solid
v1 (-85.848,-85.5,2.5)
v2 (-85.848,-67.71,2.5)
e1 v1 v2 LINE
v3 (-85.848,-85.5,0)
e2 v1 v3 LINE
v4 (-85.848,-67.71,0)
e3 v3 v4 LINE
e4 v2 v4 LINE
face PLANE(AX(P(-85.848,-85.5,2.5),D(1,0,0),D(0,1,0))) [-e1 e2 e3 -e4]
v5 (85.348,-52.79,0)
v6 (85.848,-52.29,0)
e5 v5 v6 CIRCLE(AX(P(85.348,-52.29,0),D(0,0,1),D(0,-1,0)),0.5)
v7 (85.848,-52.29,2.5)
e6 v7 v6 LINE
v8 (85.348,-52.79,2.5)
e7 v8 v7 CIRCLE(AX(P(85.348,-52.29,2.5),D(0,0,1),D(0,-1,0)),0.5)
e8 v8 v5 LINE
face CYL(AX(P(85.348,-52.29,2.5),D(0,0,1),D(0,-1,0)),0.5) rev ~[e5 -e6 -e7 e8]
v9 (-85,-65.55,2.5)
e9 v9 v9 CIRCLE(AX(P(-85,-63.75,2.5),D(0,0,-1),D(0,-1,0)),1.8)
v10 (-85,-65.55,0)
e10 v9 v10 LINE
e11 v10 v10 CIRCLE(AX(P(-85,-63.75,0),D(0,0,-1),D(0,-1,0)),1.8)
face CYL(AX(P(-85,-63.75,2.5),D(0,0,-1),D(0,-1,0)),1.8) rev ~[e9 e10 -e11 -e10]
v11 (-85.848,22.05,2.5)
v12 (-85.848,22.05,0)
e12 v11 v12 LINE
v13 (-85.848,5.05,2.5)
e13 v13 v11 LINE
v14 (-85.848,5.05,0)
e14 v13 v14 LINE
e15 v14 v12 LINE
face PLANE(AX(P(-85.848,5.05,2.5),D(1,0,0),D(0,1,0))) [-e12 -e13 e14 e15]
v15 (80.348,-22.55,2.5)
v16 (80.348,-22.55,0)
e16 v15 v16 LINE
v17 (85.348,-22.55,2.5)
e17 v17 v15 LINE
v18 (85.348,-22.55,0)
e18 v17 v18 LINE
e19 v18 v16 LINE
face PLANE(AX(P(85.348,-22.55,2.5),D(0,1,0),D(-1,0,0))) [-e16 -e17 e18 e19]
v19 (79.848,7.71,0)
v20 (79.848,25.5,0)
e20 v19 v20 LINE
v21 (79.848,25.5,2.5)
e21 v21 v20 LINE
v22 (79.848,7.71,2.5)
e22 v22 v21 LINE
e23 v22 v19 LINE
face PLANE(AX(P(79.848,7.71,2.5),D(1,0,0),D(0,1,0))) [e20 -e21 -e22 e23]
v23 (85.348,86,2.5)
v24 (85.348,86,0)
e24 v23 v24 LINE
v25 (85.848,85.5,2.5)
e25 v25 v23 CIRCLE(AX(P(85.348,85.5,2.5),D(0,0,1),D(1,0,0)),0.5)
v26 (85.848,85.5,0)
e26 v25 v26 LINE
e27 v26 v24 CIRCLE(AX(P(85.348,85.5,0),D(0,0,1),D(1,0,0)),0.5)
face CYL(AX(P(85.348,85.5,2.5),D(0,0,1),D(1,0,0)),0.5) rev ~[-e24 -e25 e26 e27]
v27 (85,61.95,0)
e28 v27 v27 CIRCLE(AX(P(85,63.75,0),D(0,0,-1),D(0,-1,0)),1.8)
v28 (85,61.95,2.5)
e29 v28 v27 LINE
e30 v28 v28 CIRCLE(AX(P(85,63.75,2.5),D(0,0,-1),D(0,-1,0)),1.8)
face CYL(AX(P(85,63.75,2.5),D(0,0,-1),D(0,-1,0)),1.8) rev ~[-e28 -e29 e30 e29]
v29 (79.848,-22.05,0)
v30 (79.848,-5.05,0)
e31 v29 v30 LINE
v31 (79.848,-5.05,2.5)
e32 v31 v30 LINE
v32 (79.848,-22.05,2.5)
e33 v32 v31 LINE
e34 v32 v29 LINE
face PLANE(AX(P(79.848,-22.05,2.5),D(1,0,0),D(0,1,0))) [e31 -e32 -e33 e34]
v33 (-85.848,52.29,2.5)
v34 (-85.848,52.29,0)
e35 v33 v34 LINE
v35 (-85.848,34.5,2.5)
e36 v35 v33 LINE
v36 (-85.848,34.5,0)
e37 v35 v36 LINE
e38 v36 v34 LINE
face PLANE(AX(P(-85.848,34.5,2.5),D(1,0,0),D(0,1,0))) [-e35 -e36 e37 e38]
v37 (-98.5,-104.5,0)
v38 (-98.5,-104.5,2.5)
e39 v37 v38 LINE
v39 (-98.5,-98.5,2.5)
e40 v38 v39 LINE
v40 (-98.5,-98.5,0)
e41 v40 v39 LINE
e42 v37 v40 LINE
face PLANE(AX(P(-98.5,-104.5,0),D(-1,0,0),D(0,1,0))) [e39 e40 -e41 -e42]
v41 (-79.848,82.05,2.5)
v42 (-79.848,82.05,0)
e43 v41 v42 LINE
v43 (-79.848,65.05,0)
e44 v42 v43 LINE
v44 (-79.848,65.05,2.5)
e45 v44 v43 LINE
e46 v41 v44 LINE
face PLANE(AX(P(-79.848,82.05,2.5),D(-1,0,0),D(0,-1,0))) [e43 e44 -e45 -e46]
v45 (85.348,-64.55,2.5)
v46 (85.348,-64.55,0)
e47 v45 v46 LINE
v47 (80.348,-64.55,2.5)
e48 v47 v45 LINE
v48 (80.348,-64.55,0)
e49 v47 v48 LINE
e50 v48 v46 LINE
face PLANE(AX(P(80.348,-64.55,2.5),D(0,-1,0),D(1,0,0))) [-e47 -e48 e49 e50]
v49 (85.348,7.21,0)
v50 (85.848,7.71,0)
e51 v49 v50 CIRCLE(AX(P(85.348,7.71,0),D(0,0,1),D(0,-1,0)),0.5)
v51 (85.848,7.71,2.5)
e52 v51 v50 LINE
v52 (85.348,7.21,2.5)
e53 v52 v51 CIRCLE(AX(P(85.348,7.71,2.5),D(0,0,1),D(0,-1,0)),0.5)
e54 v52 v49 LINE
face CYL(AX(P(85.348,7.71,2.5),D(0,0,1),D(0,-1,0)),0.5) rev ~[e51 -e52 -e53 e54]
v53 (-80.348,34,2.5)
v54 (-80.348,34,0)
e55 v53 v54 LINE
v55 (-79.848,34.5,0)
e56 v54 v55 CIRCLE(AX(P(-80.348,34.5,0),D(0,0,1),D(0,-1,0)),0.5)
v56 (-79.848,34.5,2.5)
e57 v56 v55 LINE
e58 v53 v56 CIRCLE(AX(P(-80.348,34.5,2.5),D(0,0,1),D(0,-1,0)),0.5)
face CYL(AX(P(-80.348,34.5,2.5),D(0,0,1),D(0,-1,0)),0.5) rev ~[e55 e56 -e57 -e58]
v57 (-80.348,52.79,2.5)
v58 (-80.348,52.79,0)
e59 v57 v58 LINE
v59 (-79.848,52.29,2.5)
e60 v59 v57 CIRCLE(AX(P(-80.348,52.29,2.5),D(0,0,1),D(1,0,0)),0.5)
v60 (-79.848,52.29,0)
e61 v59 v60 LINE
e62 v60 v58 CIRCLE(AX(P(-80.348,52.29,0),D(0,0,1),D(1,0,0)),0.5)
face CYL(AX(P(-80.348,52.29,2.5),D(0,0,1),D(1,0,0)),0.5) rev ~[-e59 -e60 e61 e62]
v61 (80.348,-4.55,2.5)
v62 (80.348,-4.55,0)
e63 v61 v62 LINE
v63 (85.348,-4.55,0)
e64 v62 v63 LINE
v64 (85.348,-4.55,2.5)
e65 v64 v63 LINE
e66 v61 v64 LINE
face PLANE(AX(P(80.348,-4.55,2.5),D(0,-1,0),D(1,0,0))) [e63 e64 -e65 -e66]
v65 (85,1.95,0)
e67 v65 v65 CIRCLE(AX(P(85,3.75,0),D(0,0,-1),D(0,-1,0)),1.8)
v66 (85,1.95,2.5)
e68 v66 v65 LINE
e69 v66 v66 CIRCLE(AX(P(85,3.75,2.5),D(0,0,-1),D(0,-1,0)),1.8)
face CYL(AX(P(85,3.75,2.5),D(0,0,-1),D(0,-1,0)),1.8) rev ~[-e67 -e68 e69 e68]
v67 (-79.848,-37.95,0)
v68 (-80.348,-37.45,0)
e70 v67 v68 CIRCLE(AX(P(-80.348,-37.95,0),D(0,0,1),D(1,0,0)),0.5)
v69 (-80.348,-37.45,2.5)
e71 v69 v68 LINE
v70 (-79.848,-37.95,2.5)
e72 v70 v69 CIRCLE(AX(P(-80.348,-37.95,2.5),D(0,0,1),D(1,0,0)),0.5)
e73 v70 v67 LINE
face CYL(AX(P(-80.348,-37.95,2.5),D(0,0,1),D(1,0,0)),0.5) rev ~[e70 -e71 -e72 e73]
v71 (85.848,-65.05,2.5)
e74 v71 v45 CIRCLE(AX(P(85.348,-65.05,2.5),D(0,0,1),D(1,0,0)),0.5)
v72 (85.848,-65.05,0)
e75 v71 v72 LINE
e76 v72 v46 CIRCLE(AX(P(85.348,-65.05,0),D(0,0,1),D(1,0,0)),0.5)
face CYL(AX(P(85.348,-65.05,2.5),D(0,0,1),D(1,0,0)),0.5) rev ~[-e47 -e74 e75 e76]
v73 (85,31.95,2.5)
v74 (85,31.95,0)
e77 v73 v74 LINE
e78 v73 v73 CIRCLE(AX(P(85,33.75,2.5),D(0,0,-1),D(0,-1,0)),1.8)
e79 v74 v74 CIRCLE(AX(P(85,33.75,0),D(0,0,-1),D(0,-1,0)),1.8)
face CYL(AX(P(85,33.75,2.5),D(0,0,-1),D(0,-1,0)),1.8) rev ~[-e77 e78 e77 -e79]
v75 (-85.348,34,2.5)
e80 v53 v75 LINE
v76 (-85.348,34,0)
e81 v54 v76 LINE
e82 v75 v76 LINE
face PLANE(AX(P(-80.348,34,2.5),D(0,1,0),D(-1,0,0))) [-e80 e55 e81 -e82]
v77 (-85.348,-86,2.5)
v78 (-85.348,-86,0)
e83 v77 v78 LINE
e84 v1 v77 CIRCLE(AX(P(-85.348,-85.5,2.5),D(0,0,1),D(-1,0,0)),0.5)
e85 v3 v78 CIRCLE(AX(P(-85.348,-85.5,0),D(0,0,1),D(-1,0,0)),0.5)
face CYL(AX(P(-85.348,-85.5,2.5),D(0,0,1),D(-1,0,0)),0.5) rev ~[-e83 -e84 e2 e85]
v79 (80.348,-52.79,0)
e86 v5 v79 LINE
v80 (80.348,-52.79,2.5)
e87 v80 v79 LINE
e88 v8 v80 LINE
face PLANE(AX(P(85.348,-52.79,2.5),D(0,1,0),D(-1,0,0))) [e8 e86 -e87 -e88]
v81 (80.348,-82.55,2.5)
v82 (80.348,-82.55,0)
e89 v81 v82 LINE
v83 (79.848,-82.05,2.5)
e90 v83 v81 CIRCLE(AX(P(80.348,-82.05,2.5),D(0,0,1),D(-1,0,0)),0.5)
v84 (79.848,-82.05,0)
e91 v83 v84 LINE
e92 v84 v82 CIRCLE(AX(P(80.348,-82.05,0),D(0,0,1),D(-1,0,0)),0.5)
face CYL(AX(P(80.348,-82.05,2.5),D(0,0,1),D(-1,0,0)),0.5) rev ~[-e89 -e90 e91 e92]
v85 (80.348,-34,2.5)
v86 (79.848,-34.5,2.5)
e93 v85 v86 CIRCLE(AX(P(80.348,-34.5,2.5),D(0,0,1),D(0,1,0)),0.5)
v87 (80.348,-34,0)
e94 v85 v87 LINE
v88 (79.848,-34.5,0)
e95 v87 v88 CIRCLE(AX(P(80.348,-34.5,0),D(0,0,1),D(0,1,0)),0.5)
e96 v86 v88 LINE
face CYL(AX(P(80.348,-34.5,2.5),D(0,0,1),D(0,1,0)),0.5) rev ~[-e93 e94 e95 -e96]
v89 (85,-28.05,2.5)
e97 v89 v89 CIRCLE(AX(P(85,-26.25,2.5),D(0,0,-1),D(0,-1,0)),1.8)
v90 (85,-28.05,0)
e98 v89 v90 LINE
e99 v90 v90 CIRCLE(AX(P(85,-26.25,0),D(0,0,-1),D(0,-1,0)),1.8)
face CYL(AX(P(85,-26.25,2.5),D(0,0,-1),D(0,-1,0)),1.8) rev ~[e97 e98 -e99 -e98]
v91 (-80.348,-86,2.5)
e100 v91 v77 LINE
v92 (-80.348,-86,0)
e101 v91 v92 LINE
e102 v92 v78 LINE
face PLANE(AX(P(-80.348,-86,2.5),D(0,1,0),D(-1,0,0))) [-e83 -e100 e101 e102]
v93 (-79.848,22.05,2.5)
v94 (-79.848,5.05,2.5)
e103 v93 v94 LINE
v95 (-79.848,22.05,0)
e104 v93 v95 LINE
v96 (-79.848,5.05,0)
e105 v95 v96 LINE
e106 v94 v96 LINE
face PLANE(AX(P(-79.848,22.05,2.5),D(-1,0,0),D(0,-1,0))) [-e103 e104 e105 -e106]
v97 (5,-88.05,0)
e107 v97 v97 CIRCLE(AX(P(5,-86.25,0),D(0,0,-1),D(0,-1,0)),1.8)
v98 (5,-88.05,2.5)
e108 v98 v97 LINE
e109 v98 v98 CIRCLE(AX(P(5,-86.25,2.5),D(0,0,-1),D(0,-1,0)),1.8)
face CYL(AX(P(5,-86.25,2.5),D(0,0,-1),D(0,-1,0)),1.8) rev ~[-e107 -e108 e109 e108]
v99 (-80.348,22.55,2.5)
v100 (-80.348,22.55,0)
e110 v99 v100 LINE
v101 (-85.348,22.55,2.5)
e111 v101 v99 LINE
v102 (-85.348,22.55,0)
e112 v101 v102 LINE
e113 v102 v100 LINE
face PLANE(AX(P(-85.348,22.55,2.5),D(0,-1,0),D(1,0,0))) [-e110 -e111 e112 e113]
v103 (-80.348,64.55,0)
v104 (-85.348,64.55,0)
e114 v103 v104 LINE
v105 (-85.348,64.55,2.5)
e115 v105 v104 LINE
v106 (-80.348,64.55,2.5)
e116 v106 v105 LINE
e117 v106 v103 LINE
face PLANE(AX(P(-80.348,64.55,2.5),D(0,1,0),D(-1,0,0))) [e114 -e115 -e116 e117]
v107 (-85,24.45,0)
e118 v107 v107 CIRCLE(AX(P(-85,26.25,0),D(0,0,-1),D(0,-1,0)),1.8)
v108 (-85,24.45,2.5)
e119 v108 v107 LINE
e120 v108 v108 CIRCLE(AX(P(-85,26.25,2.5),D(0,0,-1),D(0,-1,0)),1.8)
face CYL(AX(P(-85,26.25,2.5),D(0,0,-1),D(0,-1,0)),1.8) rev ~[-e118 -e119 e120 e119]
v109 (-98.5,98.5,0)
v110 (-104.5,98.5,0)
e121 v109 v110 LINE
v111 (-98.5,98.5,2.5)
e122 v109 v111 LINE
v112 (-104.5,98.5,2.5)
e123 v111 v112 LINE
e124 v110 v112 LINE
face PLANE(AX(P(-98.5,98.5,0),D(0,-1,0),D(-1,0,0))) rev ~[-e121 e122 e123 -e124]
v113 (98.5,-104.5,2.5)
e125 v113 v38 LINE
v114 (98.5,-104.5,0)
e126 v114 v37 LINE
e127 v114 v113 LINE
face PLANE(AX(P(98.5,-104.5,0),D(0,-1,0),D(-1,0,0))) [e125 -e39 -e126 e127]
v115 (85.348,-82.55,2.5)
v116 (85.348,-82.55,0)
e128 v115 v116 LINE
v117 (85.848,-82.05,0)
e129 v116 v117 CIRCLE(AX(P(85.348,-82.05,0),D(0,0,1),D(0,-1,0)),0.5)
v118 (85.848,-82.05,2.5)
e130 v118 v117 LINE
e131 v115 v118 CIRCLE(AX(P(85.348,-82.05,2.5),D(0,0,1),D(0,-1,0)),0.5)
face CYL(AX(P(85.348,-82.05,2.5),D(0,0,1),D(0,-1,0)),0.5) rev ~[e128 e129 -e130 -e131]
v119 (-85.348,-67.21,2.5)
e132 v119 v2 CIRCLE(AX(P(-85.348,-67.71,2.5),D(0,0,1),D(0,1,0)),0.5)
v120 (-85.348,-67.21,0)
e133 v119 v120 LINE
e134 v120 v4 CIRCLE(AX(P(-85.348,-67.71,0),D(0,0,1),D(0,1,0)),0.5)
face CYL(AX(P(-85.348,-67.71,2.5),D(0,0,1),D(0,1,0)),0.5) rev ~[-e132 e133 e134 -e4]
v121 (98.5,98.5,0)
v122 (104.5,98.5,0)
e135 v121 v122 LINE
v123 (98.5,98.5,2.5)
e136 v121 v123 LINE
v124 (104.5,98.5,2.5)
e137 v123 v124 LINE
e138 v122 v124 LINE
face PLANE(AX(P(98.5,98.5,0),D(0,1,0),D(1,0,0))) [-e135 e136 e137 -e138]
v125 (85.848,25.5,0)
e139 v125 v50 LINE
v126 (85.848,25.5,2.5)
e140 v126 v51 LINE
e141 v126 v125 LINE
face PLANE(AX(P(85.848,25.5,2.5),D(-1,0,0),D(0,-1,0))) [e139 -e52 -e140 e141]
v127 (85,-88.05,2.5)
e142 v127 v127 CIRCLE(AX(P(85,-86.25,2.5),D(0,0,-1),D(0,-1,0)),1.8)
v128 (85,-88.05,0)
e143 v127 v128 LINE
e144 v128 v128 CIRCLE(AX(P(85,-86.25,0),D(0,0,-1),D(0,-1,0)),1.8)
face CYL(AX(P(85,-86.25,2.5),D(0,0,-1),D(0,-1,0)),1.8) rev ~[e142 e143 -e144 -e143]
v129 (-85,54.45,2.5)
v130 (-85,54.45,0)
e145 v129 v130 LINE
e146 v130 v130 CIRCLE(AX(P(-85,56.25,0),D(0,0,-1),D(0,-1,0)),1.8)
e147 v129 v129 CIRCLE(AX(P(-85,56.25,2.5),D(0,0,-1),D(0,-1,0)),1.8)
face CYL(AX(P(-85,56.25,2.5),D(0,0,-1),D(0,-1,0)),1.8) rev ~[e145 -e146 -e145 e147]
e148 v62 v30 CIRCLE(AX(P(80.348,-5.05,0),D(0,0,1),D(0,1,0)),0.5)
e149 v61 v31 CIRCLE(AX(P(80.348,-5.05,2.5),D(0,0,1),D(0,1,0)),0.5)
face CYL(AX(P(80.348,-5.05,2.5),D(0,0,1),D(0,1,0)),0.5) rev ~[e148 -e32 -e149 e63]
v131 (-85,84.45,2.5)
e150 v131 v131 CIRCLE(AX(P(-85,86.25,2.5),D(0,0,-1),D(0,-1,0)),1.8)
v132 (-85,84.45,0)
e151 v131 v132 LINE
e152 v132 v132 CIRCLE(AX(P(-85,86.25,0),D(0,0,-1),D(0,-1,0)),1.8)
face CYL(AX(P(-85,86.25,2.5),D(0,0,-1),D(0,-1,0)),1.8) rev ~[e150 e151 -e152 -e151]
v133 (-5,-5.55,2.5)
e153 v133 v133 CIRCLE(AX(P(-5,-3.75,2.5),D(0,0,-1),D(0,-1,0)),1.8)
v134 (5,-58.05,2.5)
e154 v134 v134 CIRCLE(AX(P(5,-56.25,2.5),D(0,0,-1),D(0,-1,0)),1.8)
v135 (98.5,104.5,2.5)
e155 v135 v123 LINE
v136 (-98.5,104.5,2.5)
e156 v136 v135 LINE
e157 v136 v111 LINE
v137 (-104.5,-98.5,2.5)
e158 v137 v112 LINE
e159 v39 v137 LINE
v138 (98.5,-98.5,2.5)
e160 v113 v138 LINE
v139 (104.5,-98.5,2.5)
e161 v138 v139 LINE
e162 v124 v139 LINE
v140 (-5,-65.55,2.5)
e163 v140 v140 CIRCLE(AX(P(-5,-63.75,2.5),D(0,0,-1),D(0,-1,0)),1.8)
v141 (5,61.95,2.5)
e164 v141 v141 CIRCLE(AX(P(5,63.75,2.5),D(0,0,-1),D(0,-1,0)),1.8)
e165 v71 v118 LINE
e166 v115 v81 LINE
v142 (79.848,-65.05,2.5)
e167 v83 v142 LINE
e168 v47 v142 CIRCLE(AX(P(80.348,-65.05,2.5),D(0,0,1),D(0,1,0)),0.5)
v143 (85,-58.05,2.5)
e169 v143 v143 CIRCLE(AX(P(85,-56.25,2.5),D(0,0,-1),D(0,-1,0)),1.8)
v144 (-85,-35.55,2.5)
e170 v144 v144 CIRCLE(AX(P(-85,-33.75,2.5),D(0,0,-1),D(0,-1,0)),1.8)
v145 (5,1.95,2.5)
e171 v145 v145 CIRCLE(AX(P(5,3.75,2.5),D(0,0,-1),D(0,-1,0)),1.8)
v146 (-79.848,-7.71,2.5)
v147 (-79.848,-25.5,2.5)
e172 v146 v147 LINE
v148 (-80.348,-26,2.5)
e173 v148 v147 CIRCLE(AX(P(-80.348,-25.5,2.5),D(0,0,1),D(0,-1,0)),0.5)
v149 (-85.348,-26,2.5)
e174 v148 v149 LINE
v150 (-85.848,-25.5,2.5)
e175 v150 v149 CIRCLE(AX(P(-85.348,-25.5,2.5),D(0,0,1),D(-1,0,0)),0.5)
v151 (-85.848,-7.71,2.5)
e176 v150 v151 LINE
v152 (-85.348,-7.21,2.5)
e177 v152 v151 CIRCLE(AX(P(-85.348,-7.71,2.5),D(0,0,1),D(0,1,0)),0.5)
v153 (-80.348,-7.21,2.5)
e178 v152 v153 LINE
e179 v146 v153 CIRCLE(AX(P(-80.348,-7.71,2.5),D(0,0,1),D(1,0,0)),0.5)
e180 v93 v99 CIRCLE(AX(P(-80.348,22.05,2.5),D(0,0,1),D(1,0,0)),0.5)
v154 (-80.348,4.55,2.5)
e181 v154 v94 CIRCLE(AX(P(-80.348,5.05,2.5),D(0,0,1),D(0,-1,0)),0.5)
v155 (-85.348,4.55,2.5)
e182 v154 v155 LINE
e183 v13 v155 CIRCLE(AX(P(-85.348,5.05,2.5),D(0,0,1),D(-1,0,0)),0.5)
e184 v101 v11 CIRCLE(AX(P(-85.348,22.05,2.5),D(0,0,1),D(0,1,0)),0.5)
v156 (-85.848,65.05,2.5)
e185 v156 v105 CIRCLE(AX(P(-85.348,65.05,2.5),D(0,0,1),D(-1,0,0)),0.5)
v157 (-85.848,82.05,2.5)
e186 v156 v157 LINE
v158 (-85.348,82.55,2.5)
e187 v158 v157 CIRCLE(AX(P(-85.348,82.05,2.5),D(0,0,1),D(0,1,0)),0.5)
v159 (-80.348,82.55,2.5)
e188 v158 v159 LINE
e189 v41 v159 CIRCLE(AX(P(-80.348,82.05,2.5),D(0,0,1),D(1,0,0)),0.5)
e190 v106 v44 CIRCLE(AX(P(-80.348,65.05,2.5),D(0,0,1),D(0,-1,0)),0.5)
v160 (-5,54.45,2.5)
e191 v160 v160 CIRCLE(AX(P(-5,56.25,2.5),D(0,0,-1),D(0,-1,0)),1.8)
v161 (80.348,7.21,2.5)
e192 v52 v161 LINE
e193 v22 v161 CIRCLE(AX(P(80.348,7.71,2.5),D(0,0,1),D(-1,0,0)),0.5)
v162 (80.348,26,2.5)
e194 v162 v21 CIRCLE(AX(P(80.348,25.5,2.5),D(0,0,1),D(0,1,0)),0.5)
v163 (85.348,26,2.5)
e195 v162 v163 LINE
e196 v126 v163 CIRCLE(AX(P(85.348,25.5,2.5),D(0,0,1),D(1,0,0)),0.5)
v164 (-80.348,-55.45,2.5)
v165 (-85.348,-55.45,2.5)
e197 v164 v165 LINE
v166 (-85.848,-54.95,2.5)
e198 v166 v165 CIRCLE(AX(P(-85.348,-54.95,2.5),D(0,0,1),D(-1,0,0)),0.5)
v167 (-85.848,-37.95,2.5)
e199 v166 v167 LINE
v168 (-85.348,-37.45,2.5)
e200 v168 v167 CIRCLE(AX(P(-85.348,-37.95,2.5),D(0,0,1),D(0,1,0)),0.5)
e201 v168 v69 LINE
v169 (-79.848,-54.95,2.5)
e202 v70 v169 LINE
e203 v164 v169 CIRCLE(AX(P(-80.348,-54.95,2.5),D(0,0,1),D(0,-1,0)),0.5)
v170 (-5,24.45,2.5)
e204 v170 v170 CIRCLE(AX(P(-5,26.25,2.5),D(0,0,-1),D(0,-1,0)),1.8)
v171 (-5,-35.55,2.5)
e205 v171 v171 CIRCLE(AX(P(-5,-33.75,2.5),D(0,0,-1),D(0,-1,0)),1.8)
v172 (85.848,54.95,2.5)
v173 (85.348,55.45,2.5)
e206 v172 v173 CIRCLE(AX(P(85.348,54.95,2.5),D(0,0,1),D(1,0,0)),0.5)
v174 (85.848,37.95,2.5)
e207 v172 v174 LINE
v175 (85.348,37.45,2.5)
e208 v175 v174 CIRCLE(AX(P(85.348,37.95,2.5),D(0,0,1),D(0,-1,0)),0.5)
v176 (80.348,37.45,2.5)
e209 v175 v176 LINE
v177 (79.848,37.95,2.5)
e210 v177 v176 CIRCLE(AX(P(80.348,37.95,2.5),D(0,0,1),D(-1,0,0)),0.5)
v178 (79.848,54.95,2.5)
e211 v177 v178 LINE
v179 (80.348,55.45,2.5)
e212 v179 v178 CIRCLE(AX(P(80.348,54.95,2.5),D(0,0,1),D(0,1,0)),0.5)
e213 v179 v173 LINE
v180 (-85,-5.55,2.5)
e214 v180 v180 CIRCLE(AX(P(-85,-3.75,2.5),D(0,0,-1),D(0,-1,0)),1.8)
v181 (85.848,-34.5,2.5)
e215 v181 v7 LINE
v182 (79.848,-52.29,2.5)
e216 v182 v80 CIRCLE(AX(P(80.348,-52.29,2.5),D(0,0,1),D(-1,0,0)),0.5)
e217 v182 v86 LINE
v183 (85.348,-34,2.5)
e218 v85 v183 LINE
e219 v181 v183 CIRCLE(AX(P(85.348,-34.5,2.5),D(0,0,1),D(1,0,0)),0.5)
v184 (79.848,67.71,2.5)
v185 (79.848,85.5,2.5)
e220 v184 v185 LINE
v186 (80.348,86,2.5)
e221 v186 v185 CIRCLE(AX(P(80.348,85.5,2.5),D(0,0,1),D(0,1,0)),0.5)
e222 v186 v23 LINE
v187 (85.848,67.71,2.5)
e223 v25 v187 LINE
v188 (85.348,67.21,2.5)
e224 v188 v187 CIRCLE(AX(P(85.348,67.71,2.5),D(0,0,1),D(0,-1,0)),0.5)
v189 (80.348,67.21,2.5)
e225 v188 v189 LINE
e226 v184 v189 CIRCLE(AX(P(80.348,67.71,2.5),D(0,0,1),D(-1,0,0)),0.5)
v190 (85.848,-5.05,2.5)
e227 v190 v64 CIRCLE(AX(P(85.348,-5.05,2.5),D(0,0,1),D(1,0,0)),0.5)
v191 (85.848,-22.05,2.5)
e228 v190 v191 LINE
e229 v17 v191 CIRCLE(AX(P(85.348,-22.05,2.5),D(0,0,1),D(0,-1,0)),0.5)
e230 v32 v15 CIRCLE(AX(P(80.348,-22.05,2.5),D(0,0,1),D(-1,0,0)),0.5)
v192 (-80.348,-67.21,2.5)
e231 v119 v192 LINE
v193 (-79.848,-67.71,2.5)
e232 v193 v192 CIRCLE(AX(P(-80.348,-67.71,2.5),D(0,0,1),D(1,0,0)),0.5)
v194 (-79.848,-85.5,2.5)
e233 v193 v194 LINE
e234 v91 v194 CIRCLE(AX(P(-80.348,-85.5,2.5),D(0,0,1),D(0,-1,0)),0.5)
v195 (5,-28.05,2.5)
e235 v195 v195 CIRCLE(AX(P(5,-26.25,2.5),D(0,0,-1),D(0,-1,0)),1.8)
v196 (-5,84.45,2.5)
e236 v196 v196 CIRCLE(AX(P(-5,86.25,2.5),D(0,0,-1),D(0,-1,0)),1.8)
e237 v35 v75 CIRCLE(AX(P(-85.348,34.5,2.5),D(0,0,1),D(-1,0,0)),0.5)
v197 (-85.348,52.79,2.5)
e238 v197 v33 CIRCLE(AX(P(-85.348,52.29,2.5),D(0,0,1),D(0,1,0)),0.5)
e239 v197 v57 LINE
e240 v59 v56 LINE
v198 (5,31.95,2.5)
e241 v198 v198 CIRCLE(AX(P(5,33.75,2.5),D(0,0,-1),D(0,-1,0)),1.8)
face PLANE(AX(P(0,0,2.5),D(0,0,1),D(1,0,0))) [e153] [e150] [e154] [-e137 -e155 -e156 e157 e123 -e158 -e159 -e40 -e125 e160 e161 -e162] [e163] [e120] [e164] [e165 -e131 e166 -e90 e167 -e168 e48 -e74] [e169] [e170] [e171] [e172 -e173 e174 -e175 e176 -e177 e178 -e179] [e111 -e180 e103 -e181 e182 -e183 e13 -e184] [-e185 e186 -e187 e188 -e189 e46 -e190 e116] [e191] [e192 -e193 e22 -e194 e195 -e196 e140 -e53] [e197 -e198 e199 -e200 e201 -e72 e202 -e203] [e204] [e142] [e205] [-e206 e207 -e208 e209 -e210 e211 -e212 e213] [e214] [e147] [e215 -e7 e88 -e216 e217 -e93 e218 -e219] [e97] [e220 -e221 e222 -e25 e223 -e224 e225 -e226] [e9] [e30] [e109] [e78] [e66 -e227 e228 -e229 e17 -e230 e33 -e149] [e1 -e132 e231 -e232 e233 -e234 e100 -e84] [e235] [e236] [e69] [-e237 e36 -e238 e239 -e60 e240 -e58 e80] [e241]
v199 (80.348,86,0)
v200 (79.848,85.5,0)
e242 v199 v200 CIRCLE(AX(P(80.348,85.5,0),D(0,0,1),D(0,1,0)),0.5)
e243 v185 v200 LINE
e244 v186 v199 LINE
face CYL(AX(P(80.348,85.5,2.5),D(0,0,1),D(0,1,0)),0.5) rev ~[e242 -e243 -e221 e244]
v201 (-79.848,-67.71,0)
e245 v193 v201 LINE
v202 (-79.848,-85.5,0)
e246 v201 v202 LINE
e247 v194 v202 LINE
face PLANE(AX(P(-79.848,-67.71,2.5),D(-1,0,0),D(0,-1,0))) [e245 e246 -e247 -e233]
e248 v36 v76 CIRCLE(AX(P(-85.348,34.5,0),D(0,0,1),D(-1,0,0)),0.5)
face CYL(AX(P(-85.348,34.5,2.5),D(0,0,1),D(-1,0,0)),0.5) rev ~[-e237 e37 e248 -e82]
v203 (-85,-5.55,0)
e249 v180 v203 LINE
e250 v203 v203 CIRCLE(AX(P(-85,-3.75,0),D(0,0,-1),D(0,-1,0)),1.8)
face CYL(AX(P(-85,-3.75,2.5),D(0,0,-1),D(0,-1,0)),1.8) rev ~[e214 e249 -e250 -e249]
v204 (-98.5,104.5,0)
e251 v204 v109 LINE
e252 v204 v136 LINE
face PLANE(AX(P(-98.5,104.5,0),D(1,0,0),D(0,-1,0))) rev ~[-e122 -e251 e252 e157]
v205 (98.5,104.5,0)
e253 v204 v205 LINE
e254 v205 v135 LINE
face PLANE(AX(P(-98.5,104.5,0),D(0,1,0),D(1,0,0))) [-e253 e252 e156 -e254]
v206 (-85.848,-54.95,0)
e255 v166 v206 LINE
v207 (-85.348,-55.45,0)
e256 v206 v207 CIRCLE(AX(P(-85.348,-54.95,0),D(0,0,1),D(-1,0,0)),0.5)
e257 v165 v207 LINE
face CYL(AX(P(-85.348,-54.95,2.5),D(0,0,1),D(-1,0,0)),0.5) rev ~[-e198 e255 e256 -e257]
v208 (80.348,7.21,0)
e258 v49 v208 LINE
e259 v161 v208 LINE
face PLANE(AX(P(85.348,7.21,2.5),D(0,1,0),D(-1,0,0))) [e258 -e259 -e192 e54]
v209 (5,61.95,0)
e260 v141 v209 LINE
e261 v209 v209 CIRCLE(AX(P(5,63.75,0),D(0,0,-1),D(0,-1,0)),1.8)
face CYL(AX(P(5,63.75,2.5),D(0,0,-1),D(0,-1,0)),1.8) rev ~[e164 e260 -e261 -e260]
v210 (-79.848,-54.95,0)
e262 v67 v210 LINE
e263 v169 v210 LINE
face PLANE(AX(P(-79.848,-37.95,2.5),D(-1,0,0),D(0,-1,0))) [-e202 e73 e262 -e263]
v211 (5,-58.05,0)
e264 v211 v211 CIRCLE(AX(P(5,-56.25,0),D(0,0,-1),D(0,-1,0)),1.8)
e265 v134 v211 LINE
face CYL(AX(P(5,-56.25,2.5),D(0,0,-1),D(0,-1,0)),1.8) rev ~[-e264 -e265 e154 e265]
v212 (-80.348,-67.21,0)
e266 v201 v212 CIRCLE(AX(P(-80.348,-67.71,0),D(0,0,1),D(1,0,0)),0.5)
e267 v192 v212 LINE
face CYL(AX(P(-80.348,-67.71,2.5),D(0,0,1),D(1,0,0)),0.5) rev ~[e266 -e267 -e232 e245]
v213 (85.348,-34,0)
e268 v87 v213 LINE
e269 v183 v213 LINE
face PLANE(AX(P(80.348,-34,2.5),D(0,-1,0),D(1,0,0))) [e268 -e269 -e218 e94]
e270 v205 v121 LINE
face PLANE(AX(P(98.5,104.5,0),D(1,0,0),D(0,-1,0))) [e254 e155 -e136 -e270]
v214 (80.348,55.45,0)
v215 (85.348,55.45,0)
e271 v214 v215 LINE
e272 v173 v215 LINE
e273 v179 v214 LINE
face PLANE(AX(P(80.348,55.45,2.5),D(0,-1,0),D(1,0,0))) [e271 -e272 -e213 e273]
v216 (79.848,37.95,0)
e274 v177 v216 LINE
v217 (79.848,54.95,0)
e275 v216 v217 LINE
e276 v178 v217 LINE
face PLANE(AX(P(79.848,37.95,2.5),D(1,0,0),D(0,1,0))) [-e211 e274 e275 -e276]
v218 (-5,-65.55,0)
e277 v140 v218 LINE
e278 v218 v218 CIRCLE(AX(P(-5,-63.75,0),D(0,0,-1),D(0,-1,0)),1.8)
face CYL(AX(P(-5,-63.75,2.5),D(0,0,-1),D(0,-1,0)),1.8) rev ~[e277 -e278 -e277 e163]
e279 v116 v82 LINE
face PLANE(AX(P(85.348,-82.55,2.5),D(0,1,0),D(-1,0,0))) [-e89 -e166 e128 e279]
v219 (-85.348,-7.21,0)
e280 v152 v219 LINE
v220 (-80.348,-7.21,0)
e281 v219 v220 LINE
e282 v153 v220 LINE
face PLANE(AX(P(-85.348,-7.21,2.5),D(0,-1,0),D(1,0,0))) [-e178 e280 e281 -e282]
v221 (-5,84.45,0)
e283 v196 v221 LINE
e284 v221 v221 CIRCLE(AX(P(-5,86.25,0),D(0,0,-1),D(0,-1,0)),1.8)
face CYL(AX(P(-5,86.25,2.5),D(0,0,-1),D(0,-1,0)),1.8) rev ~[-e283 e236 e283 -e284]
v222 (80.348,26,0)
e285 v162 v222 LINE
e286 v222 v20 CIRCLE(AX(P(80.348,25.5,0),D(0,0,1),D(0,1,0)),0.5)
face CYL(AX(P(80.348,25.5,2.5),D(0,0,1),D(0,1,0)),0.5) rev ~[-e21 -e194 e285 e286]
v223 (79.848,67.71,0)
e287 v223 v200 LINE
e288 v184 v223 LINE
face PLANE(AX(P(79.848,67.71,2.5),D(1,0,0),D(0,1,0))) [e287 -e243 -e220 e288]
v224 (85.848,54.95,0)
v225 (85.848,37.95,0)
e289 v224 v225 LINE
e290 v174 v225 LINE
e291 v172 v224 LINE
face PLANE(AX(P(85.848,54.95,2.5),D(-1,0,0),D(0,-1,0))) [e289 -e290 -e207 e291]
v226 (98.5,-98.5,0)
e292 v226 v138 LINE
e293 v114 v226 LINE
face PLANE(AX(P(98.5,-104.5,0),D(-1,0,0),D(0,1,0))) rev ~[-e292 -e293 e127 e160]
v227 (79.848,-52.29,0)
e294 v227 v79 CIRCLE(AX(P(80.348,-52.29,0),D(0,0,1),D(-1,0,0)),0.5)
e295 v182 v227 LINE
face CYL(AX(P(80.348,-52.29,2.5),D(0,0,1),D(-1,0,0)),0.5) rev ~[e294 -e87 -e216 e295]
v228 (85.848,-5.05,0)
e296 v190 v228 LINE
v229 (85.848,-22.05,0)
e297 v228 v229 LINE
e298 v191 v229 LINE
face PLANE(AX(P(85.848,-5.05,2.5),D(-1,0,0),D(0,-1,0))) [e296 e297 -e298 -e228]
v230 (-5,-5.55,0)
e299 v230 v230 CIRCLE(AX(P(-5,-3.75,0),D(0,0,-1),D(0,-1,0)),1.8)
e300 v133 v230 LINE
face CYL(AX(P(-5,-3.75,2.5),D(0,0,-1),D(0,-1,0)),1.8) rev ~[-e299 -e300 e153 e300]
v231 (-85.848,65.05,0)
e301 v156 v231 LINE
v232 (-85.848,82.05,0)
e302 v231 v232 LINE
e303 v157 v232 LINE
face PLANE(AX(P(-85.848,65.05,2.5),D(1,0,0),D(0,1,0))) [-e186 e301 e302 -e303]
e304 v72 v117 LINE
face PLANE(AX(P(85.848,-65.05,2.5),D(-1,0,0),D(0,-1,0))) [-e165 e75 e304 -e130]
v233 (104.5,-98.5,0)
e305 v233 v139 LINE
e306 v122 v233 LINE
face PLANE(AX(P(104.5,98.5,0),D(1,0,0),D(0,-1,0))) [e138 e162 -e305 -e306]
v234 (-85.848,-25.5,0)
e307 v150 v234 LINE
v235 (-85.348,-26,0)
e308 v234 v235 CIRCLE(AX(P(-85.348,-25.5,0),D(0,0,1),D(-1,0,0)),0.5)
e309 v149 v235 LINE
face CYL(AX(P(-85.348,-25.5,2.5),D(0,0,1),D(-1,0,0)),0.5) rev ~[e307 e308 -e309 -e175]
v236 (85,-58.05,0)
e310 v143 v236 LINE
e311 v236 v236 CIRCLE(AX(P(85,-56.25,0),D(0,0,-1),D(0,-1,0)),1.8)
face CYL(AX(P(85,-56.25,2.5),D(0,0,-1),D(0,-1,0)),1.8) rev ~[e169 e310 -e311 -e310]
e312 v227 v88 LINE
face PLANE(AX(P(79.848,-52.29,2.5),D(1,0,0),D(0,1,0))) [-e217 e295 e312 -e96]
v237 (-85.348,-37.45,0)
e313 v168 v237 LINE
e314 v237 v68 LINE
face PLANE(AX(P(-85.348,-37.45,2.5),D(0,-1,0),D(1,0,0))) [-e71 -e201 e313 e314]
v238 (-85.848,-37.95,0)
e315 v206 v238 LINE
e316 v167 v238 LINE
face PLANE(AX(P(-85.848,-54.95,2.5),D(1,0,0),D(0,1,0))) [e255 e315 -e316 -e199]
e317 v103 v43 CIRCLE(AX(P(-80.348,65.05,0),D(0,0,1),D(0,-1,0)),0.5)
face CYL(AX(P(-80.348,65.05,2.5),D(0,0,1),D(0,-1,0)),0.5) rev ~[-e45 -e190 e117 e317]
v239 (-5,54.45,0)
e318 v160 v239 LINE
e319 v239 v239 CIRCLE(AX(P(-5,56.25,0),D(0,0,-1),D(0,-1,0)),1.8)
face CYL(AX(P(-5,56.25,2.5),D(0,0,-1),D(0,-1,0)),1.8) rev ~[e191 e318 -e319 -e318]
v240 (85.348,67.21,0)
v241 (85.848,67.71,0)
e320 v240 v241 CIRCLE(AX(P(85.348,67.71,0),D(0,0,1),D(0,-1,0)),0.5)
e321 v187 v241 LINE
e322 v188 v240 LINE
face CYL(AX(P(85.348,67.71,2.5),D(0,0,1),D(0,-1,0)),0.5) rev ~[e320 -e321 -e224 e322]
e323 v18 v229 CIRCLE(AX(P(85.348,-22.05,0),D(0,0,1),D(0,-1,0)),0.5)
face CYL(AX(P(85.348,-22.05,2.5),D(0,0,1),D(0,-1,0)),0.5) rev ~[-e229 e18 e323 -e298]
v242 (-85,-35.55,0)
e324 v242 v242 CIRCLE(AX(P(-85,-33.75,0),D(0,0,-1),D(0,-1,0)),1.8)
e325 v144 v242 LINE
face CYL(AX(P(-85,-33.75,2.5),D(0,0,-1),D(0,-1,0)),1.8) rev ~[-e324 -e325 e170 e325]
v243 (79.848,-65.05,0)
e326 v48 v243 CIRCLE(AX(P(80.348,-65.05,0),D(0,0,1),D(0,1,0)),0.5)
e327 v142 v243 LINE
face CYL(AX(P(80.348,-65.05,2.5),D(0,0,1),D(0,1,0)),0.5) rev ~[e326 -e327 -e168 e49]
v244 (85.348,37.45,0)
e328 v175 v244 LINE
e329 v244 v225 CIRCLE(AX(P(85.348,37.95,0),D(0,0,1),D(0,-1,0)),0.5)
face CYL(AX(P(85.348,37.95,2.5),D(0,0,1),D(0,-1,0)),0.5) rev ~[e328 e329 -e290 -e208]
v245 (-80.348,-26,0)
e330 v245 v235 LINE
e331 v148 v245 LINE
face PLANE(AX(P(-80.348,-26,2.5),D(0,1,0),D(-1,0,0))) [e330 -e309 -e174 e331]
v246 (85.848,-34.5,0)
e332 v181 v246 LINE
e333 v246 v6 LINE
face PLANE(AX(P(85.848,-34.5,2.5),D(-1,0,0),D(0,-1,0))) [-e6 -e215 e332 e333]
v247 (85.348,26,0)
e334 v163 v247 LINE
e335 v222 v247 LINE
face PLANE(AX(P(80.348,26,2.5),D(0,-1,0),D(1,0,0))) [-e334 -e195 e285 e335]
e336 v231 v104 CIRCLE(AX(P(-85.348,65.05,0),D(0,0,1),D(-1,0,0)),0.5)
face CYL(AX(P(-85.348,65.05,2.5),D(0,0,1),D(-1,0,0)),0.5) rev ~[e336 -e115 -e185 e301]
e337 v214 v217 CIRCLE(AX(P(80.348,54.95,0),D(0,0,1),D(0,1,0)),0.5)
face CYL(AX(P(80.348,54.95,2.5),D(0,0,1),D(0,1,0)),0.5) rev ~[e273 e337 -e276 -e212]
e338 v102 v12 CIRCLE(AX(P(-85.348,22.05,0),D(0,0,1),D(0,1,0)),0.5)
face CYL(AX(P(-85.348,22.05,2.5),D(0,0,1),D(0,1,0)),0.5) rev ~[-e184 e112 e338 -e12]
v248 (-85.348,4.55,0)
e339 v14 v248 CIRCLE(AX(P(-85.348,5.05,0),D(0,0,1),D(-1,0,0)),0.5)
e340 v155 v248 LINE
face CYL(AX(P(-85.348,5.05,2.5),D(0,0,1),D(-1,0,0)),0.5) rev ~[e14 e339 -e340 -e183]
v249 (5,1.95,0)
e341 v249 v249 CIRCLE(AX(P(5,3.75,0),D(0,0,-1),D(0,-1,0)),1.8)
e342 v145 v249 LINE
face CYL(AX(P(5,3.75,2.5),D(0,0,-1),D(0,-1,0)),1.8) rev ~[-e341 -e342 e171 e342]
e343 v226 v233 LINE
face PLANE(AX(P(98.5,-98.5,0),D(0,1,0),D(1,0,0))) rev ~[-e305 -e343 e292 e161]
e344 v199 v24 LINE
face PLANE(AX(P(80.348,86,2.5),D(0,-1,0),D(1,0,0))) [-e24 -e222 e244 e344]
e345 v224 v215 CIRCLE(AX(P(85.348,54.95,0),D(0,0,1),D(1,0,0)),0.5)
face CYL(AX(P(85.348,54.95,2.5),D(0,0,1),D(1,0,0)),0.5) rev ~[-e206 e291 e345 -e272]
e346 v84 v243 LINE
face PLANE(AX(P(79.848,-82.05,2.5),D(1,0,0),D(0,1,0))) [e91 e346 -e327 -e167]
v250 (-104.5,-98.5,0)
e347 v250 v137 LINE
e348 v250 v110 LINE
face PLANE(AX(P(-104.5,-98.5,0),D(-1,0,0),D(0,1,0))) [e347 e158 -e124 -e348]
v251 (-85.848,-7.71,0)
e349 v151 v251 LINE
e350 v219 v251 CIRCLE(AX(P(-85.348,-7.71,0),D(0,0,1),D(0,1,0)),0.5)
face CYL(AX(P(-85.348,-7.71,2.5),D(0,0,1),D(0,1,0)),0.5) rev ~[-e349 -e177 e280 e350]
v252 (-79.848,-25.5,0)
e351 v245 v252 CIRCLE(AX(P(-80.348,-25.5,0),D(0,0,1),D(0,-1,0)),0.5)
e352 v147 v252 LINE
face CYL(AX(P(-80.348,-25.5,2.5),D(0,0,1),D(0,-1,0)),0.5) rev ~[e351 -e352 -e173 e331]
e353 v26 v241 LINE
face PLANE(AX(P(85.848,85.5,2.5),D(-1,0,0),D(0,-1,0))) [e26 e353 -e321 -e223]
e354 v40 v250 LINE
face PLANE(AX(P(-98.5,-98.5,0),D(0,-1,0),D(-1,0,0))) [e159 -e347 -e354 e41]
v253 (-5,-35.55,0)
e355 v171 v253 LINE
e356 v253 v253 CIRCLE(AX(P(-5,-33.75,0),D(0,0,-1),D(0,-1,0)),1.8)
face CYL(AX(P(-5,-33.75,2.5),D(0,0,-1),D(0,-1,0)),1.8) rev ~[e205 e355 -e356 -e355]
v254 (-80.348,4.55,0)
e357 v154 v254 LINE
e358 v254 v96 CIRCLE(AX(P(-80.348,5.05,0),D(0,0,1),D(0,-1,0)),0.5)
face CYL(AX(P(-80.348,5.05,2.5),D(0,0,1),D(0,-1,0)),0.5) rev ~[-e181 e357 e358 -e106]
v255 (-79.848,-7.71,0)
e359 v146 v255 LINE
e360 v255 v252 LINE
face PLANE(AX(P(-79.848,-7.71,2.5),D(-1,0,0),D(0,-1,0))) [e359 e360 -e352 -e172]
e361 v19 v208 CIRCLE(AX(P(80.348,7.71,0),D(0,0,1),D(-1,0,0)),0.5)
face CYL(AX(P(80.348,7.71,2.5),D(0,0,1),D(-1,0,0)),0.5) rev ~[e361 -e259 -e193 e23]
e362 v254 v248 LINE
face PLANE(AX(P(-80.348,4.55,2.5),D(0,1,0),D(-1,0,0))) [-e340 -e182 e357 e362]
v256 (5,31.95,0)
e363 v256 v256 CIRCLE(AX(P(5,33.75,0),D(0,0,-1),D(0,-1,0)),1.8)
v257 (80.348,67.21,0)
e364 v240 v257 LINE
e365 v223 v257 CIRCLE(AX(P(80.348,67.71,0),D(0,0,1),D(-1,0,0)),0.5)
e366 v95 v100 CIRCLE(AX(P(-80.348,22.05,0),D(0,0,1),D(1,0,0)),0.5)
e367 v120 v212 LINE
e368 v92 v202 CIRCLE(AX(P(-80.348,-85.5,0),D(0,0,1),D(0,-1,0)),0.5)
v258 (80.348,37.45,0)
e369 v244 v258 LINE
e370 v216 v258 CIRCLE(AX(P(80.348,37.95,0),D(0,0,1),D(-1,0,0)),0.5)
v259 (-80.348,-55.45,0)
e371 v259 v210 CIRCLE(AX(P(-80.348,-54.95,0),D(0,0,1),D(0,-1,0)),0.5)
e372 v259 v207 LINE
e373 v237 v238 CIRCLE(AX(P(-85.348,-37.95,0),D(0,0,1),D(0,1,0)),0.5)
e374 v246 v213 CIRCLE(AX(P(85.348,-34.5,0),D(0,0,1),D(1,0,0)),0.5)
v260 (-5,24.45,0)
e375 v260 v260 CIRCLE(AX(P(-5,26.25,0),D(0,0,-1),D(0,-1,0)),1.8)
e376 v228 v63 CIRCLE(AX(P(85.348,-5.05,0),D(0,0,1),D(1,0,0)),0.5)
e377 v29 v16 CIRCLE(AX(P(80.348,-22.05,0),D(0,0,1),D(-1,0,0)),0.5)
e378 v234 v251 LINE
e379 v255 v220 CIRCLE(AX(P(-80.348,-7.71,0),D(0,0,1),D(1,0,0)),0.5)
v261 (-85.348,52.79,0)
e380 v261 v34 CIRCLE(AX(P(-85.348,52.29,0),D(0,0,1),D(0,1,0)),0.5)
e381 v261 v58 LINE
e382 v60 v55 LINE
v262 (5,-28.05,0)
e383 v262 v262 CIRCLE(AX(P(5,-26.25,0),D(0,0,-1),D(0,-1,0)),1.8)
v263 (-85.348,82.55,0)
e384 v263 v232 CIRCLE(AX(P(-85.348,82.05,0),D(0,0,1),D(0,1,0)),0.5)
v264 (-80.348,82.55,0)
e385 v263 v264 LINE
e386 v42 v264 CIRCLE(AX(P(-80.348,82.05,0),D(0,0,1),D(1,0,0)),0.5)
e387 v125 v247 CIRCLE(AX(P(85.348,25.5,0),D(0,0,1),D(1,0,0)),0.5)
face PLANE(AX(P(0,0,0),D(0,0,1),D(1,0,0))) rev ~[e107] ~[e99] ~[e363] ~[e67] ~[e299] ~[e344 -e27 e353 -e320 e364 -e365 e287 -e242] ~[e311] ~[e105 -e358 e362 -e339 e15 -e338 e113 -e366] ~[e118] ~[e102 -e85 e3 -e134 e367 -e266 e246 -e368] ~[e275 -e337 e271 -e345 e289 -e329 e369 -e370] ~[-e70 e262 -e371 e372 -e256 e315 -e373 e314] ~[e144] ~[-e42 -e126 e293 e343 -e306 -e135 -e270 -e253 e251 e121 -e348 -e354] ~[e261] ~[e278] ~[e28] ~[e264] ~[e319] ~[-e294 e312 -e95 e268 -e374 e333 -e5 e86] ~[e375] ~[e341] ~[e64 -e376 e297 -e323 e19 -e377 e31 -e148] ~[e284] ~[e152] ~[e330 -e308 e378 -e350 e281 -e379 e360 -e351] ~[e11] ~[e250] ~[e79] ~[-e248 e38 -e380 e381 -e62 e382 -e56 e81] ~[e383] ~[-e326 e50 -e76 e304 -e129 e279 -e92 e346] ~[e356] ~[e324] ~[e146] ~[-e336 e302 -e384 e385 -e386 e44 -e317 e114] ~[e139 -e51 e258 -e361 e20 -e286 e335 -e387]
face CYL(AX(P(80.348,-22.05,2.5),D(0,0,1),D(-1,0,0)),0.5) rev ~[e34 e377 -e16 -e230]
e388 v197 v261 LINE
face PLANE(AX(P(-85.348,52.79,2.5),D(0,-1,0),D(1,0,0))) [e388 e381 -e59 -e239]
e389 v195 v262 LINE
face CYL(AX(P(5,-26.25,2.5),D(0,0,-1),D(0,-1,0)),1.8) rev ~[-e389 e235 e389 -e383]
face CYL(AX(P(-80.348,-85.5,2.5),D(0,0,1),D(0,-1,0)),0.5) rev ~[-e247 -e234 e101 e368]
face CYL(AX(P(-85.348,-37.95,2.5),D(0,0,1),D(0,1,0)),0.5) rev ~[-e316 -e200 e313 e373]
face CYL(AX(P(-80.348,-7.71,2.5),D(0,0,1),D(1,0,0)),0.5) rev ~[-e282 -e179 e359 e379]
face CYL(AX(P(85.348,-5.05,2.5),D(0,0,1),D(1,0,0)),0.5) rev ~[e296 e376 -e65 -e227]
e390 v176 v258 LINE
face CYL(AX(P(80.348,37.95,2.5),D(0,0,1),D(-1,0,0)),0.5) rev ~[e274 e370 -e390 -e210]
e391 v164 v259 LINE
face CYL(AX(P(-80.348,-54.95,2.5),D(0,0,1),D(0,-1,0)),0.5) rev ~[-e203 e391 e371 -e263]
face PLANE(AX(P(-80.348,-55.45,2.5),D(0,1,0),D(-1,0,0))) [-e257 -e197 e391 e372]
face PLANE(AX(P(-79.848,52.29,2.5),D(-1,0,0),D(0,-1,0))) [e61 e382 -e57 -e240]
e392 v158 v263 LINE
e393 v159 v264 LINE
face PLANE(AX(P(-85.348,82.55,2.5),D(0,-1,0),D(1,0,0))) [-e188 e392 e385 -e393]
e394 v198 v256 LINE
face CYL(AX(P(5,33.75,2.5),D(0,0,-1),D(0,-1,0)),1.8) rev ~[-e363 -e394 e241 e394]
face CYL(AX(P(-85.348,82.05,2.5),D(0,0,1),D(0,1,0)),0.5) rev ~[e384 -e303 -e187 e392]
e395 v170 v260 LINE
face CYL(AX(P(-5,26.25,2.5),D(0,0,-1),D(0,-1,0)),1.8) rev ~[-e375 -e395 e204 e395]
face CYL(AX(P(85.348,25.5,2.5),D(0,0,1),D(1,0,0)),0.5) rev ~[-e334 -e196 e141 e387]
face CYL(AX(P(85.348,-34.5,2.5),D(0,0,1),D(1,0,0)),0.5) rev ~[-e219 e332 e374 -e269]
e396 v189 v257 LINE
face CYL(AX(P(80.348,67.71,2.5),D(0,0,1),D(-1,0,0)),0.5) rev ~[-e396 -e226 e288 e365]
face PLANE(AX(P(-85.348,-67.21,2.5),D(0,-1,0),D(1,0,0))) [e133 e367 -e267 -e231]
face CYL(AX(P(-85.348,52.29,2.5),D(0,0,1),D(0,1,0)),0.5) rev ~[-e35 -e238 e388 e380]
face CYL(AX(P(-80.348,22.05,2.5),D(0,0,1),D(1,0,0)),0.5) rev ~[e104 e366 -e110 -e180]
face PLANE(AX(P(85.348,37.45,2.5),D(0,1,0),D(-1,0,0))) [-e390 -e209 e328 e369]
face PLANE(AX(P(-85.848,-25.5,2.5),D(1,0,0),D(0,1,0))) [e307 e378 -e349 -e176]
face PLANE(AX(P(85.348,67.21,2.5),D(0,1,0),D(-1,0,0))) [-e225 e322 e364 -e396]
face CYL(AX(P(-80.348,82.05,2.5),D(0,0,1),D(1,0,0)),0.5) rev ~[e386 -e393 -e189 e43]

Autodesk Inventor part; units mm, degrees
ref_plane "YZ Plane" through (0, 0, 0) normal (1, 0, 0) x (0, 1, 0)
ref_plane "XZ Plane" through (0, 0, 0) normal (0, 1, 0) x (-1, 0, 0)
ref_plane "XY Plane" through (0, 0, 0) normal (0, 0, 1) x (1, 0, 0)
sketch "Sketch2" plane through (0, 0, 0) normal (0, 0, 1) x (1, 0, 0)
  line L0 (-104.5, 104.5) -> (104.5, 104.5)
  line L1 (104.5, 104.5) -> (104.5, -104.5)
  line L2 (104.5, -104.5) -> (-104.5, -104.5)
  line L3 (-104.5, -104.5) -> (-104.5, 104.5)
  line L4 (-104.5, 104.5) -> (104.5, -104.5) construction
  line L5 (104.5, 104.5) -> (-104.5, -104.5) construction
  line L6 (-104.5, 104.5) -> (-98.5, 104.5)
  line L7 (-98.5, 104.5) -> (-98.5, 98.5)
  line L8 (-98.5, 98.5) -> (-104.5, 98.5)
  line L9 (-104.5, 98.5) -> (-104.5, 104.5)
  line L10 (104.5, 104.5) -> (98.5, 104.5)
  line L11 (98.5, 104.5) -> (98.5, 98.5)
  line L12 (98.5, 98.5) -> (104.5, 98.5)
  line L13 (104.5, 98.5) -> (104.5, 104.5)
  line L14 (104.5, -104.5) -> (98.5, -104.5)
  line L15 (98.5, -104.5) -> (98.5, -98.5)
  line L16 (98.5, -98.5) -> (104.5, -98.5)
  line L17 (104.5, -98.5) -> (104.5, -104.5)
  line L18 (-104.5, -104.5) -> (-98.5, -104.5)
  line L19 (-98.5, -104.5) -> (-98.5, -98.5)
  line L20 (-98.5, -98.5) -> (-104.5, -98.5)
  line L21 (-104.5, -98.5) -> (-104.5, -104.5)
  line L22 (-90, 90) -> (90, -90) construction
  line L23 (90, 90) -> (-90, -90) construction
  point P0 (0, 0)
  point P1 (-98.5, -104.5)
  point P2 (98.5, -104.5)
  point P3 (104.5, -98.5)
  point P4 (104.5, 98.5)
  point P5 (98.5, 104.5)
  point P6 (-98.5, 104.5)
  dimension "d0" = 209
  dimension "d1" = 209
  dimension "d2" = 6
  dimension "d3" = 6
  dimension "d4" = 6
  dimension "d5" = 6
  dimension "d6" = 6
  dimension "d7" = 6
  dimension "d8" = 6
  dimension "d9" = 6
extrude "Extrusion1" add sketch "Sketch2" along normal blind 2.5 contours L0 L11 L12 L1 L16 L15 L2 L19 L20 L3 L8 L7
sketch "Sketch3" plane through (0, 0, 2.5) normal (0, 0, 1) x (1, 0, 0)
  circle A0 centre (-85, 86.25) radius 1.825
  point P0 (0, 0)
  dimension "d18" = 3.65
hole "Hole1" at (-85, 86.25, 2.5) direction (0, 0, -1) diameter 3.6 depth 10
pattern_linear "Rectangular Pattern1" count 2 spacing 80 along (1, 0, 0) count 6 spacing 30 along (0, -1, 0) of "Hole1"
sketch "Sketch4" plane through (0, 0, 2.5) normal (0, 0, 1) x (1, 0, 0)
  circle A0 centre (5, 63.75) radius 1.8
  line L0 (98.5, 104.5) -> (-98.5, 104.5) projected
  circle A1 centre (-5, 86.25) radius 1.8 projected
  point P0 (0, 0)
  dimension "d33" = 3.6
  dimension "d47" = 40.75
  dimension "d51" = 10
hole "Hole2" at (5, 63.75, 2.5) direction (0, 0, -1) diameter 3.6 depth 10
pattern_linear "Rectangular Pattern2" count 2 spacing 80 along (1, 0, 0) count 6 spacing 30 along (0, -1, 0) of "Hole2"
sketch "Sketch5" plane through (0, 0, 2.5) normal (0, 0, 1) x (1, 0, 0)
  line L0 (-85.348, 82.55) -> (-80.348, 82.55)
  line L1 (-79.848, 82.05) -> (-79.848, 65.05)
  line L2 (-80.348, 64.55) -> (-85.348, 64.55)
  line L3 (-85.848, 65.05) -> (-85.848, 82.05)
  circle A0 centre (-85, 86.25) radius 1.8 projected
  line L4 (-85.348, 52.79) -> (-80.348, 52.79)
  line L5 (-79.848, 52.29) -> (-79.848, 34.5)
  line L6 (-80.348, 34) -> (-85.348, 34)
  line L7 (-85.848, 34.5) -> (-85.848, 52.29)
  circle A1 centre (-85, 56.25) radius 1.8 projected
  arc A2 (-79.848, 82.05) -> (-80.348, 82.55) centre (-80.348, 82.05) ccw
  arc A3 (-85.348, 82.55) -> (-85.848, 82.05) centre (-85.348, 82.05) ccw
  arc A4 (-85.848, 65.05) -> (-85.348, 64.55) centre (-85.348, 65.05) ccw
  arc A5 (-80.348, 64.55) -> (-79.848, 65.05) centre (-80.348, 65.05) ccw
  arc A6 (-79.848, 52.29) -> (-80.348, 52.79) centre (-80.348, 52.29) ccw
  arc A7 (-80.348, 34) -> (-79.848, 34.5) centre (-80.348, 34.5) ccw
  arc A8 (-85.848, 34.5) -> (-85.348, 34) centre (-85.348, 34.5) ccw
  arc A9 (-85.348, 52.79) -> (-85.848, 52.29) centre (-85.348, 52.29) ccw
  point P0 (0, 0)
  point P1 (-85.848, 82.55)
  point P2 (-79.848, 64.55)
  point P3 (-79.848, 82.55)
  point P4 (-85.848, 64.55)
  point P5 (-85.848, 52.79)
  point P6 (-79.848, 34)
  point P7 (-79.848, 52.79)
  point P8 (-85.848, 34)
  dimension "d52" = 6
  dimension "d53" = 18
  dimension "d54" = 3.7
  dimension "d55" = 0.848
  dimension "d56" = 6
  dimension "d57" = 18.79
  dimension "d58" = 3.46
  dimension "d59" = 0.848
  dimension "d78" = 0.5
extrude "Extrusion2" cut sketch "Sketch5" against normal blind 10 contours L0 A2 L1 A5 L2 A4 L3 A3 | L4 A6 L5 A7 L6 A8 L7 A9
pattern_linear "Rectangular Pattern3" count 3 spacing 60 along (0, -1, 0) of "Extrusion2"
sketch "Sketch6" plane through (0, 0, 2.5) normal (0, 0, 1) x (1, 0, 0)
  line L0 (85.348, -82.55) -> (80.348, -82.55)
  line L1 (79.848, -82.05) -> (79.848, -65.05)
  line L2 (80.348, -64.55) -> (85.348, -64.55)
  line L3 (85.848, -65.05) -> (85.848, -82.05)
  circle A0 centre (85, -86.25) radius 1.8 projected
  line L4 (85.348, -52.79) -> (80.348, -52.79)
  line L5 (79.848, -52.29) -> (79.848, -34.5)
  line L6 (80.348, -34) -> (85.348, -34)
  line L7 (85.848, -34.5) -> (85.848, -52.29)
  circle A1 centre (85, -56.25) radius 1.8 projected
  arc A2 (85.348, -82.55) -> (85.848, -82.05) centre (85.348, -82.05) ccw
  arc A3 (85.848, -65.05) -> (85.348, -64.55) centre (85.348, -65.05) ccw
  arc A4 (80.348, -64.55) -> (79.848, -65.05) centre (80.348, -65.05) ccw
  arc A5 (79.848, -82.05) -> (80.348, -82.55) centre (80.348, -82.05) ccw
  arc A6 (85.348, -52.79) -> (85.848, -52.29) centre (85.348, -52.29) ccw
  arc A7 (85.848, -34.5) -> (85.348, -34) centre (85.348, -34.5) ccw
  arc A8 (80.348, -34) -> (79.848, -34.5) centre (80.348, -34.5) ccw
  arc A9 (79.848, -52.29) -> (80.348, -52.79) centre (80.348, -52.29) ccw
  point P0 (0, 0)
  point P1 (85.848, -82.55)
  point P2 (79.848, -64.55)
  point P3 (79.848, -82.55)
  point P4 (85.848, -64.55)
  point P5 (82.848, -82.55)
  point P6 (85.848, -52.79)
  point P7 (79.848, -34)
  point P8 (79.848, -52.79)
  point P9 (85.848, -34)
  dimension "d65" = 6
  dimension "d66" = 18
  dimension "d67" = 3.7
  dimension "d68" = 0.848
  dimension "d69" = 6
  dimension "d70" = 18.79
  dimension "d71" = 3.46
  dimension "d72" = 0.848
  dimension "d79" = 0.5
extrude "Extrusion3" cut sketch "Sketch6" against normal blind 10 contours L0 A5 L1 A4 L2 A3 L3 A2 | L4 A9 L5 A8 L6 A7 L7 A6
pattern_linear "Rectangular Pattern4" count 3 spacing 60 along (0, 1, 0) of "Extrusion3"
properties part number "Baseplate_for_PCBs_v3"
